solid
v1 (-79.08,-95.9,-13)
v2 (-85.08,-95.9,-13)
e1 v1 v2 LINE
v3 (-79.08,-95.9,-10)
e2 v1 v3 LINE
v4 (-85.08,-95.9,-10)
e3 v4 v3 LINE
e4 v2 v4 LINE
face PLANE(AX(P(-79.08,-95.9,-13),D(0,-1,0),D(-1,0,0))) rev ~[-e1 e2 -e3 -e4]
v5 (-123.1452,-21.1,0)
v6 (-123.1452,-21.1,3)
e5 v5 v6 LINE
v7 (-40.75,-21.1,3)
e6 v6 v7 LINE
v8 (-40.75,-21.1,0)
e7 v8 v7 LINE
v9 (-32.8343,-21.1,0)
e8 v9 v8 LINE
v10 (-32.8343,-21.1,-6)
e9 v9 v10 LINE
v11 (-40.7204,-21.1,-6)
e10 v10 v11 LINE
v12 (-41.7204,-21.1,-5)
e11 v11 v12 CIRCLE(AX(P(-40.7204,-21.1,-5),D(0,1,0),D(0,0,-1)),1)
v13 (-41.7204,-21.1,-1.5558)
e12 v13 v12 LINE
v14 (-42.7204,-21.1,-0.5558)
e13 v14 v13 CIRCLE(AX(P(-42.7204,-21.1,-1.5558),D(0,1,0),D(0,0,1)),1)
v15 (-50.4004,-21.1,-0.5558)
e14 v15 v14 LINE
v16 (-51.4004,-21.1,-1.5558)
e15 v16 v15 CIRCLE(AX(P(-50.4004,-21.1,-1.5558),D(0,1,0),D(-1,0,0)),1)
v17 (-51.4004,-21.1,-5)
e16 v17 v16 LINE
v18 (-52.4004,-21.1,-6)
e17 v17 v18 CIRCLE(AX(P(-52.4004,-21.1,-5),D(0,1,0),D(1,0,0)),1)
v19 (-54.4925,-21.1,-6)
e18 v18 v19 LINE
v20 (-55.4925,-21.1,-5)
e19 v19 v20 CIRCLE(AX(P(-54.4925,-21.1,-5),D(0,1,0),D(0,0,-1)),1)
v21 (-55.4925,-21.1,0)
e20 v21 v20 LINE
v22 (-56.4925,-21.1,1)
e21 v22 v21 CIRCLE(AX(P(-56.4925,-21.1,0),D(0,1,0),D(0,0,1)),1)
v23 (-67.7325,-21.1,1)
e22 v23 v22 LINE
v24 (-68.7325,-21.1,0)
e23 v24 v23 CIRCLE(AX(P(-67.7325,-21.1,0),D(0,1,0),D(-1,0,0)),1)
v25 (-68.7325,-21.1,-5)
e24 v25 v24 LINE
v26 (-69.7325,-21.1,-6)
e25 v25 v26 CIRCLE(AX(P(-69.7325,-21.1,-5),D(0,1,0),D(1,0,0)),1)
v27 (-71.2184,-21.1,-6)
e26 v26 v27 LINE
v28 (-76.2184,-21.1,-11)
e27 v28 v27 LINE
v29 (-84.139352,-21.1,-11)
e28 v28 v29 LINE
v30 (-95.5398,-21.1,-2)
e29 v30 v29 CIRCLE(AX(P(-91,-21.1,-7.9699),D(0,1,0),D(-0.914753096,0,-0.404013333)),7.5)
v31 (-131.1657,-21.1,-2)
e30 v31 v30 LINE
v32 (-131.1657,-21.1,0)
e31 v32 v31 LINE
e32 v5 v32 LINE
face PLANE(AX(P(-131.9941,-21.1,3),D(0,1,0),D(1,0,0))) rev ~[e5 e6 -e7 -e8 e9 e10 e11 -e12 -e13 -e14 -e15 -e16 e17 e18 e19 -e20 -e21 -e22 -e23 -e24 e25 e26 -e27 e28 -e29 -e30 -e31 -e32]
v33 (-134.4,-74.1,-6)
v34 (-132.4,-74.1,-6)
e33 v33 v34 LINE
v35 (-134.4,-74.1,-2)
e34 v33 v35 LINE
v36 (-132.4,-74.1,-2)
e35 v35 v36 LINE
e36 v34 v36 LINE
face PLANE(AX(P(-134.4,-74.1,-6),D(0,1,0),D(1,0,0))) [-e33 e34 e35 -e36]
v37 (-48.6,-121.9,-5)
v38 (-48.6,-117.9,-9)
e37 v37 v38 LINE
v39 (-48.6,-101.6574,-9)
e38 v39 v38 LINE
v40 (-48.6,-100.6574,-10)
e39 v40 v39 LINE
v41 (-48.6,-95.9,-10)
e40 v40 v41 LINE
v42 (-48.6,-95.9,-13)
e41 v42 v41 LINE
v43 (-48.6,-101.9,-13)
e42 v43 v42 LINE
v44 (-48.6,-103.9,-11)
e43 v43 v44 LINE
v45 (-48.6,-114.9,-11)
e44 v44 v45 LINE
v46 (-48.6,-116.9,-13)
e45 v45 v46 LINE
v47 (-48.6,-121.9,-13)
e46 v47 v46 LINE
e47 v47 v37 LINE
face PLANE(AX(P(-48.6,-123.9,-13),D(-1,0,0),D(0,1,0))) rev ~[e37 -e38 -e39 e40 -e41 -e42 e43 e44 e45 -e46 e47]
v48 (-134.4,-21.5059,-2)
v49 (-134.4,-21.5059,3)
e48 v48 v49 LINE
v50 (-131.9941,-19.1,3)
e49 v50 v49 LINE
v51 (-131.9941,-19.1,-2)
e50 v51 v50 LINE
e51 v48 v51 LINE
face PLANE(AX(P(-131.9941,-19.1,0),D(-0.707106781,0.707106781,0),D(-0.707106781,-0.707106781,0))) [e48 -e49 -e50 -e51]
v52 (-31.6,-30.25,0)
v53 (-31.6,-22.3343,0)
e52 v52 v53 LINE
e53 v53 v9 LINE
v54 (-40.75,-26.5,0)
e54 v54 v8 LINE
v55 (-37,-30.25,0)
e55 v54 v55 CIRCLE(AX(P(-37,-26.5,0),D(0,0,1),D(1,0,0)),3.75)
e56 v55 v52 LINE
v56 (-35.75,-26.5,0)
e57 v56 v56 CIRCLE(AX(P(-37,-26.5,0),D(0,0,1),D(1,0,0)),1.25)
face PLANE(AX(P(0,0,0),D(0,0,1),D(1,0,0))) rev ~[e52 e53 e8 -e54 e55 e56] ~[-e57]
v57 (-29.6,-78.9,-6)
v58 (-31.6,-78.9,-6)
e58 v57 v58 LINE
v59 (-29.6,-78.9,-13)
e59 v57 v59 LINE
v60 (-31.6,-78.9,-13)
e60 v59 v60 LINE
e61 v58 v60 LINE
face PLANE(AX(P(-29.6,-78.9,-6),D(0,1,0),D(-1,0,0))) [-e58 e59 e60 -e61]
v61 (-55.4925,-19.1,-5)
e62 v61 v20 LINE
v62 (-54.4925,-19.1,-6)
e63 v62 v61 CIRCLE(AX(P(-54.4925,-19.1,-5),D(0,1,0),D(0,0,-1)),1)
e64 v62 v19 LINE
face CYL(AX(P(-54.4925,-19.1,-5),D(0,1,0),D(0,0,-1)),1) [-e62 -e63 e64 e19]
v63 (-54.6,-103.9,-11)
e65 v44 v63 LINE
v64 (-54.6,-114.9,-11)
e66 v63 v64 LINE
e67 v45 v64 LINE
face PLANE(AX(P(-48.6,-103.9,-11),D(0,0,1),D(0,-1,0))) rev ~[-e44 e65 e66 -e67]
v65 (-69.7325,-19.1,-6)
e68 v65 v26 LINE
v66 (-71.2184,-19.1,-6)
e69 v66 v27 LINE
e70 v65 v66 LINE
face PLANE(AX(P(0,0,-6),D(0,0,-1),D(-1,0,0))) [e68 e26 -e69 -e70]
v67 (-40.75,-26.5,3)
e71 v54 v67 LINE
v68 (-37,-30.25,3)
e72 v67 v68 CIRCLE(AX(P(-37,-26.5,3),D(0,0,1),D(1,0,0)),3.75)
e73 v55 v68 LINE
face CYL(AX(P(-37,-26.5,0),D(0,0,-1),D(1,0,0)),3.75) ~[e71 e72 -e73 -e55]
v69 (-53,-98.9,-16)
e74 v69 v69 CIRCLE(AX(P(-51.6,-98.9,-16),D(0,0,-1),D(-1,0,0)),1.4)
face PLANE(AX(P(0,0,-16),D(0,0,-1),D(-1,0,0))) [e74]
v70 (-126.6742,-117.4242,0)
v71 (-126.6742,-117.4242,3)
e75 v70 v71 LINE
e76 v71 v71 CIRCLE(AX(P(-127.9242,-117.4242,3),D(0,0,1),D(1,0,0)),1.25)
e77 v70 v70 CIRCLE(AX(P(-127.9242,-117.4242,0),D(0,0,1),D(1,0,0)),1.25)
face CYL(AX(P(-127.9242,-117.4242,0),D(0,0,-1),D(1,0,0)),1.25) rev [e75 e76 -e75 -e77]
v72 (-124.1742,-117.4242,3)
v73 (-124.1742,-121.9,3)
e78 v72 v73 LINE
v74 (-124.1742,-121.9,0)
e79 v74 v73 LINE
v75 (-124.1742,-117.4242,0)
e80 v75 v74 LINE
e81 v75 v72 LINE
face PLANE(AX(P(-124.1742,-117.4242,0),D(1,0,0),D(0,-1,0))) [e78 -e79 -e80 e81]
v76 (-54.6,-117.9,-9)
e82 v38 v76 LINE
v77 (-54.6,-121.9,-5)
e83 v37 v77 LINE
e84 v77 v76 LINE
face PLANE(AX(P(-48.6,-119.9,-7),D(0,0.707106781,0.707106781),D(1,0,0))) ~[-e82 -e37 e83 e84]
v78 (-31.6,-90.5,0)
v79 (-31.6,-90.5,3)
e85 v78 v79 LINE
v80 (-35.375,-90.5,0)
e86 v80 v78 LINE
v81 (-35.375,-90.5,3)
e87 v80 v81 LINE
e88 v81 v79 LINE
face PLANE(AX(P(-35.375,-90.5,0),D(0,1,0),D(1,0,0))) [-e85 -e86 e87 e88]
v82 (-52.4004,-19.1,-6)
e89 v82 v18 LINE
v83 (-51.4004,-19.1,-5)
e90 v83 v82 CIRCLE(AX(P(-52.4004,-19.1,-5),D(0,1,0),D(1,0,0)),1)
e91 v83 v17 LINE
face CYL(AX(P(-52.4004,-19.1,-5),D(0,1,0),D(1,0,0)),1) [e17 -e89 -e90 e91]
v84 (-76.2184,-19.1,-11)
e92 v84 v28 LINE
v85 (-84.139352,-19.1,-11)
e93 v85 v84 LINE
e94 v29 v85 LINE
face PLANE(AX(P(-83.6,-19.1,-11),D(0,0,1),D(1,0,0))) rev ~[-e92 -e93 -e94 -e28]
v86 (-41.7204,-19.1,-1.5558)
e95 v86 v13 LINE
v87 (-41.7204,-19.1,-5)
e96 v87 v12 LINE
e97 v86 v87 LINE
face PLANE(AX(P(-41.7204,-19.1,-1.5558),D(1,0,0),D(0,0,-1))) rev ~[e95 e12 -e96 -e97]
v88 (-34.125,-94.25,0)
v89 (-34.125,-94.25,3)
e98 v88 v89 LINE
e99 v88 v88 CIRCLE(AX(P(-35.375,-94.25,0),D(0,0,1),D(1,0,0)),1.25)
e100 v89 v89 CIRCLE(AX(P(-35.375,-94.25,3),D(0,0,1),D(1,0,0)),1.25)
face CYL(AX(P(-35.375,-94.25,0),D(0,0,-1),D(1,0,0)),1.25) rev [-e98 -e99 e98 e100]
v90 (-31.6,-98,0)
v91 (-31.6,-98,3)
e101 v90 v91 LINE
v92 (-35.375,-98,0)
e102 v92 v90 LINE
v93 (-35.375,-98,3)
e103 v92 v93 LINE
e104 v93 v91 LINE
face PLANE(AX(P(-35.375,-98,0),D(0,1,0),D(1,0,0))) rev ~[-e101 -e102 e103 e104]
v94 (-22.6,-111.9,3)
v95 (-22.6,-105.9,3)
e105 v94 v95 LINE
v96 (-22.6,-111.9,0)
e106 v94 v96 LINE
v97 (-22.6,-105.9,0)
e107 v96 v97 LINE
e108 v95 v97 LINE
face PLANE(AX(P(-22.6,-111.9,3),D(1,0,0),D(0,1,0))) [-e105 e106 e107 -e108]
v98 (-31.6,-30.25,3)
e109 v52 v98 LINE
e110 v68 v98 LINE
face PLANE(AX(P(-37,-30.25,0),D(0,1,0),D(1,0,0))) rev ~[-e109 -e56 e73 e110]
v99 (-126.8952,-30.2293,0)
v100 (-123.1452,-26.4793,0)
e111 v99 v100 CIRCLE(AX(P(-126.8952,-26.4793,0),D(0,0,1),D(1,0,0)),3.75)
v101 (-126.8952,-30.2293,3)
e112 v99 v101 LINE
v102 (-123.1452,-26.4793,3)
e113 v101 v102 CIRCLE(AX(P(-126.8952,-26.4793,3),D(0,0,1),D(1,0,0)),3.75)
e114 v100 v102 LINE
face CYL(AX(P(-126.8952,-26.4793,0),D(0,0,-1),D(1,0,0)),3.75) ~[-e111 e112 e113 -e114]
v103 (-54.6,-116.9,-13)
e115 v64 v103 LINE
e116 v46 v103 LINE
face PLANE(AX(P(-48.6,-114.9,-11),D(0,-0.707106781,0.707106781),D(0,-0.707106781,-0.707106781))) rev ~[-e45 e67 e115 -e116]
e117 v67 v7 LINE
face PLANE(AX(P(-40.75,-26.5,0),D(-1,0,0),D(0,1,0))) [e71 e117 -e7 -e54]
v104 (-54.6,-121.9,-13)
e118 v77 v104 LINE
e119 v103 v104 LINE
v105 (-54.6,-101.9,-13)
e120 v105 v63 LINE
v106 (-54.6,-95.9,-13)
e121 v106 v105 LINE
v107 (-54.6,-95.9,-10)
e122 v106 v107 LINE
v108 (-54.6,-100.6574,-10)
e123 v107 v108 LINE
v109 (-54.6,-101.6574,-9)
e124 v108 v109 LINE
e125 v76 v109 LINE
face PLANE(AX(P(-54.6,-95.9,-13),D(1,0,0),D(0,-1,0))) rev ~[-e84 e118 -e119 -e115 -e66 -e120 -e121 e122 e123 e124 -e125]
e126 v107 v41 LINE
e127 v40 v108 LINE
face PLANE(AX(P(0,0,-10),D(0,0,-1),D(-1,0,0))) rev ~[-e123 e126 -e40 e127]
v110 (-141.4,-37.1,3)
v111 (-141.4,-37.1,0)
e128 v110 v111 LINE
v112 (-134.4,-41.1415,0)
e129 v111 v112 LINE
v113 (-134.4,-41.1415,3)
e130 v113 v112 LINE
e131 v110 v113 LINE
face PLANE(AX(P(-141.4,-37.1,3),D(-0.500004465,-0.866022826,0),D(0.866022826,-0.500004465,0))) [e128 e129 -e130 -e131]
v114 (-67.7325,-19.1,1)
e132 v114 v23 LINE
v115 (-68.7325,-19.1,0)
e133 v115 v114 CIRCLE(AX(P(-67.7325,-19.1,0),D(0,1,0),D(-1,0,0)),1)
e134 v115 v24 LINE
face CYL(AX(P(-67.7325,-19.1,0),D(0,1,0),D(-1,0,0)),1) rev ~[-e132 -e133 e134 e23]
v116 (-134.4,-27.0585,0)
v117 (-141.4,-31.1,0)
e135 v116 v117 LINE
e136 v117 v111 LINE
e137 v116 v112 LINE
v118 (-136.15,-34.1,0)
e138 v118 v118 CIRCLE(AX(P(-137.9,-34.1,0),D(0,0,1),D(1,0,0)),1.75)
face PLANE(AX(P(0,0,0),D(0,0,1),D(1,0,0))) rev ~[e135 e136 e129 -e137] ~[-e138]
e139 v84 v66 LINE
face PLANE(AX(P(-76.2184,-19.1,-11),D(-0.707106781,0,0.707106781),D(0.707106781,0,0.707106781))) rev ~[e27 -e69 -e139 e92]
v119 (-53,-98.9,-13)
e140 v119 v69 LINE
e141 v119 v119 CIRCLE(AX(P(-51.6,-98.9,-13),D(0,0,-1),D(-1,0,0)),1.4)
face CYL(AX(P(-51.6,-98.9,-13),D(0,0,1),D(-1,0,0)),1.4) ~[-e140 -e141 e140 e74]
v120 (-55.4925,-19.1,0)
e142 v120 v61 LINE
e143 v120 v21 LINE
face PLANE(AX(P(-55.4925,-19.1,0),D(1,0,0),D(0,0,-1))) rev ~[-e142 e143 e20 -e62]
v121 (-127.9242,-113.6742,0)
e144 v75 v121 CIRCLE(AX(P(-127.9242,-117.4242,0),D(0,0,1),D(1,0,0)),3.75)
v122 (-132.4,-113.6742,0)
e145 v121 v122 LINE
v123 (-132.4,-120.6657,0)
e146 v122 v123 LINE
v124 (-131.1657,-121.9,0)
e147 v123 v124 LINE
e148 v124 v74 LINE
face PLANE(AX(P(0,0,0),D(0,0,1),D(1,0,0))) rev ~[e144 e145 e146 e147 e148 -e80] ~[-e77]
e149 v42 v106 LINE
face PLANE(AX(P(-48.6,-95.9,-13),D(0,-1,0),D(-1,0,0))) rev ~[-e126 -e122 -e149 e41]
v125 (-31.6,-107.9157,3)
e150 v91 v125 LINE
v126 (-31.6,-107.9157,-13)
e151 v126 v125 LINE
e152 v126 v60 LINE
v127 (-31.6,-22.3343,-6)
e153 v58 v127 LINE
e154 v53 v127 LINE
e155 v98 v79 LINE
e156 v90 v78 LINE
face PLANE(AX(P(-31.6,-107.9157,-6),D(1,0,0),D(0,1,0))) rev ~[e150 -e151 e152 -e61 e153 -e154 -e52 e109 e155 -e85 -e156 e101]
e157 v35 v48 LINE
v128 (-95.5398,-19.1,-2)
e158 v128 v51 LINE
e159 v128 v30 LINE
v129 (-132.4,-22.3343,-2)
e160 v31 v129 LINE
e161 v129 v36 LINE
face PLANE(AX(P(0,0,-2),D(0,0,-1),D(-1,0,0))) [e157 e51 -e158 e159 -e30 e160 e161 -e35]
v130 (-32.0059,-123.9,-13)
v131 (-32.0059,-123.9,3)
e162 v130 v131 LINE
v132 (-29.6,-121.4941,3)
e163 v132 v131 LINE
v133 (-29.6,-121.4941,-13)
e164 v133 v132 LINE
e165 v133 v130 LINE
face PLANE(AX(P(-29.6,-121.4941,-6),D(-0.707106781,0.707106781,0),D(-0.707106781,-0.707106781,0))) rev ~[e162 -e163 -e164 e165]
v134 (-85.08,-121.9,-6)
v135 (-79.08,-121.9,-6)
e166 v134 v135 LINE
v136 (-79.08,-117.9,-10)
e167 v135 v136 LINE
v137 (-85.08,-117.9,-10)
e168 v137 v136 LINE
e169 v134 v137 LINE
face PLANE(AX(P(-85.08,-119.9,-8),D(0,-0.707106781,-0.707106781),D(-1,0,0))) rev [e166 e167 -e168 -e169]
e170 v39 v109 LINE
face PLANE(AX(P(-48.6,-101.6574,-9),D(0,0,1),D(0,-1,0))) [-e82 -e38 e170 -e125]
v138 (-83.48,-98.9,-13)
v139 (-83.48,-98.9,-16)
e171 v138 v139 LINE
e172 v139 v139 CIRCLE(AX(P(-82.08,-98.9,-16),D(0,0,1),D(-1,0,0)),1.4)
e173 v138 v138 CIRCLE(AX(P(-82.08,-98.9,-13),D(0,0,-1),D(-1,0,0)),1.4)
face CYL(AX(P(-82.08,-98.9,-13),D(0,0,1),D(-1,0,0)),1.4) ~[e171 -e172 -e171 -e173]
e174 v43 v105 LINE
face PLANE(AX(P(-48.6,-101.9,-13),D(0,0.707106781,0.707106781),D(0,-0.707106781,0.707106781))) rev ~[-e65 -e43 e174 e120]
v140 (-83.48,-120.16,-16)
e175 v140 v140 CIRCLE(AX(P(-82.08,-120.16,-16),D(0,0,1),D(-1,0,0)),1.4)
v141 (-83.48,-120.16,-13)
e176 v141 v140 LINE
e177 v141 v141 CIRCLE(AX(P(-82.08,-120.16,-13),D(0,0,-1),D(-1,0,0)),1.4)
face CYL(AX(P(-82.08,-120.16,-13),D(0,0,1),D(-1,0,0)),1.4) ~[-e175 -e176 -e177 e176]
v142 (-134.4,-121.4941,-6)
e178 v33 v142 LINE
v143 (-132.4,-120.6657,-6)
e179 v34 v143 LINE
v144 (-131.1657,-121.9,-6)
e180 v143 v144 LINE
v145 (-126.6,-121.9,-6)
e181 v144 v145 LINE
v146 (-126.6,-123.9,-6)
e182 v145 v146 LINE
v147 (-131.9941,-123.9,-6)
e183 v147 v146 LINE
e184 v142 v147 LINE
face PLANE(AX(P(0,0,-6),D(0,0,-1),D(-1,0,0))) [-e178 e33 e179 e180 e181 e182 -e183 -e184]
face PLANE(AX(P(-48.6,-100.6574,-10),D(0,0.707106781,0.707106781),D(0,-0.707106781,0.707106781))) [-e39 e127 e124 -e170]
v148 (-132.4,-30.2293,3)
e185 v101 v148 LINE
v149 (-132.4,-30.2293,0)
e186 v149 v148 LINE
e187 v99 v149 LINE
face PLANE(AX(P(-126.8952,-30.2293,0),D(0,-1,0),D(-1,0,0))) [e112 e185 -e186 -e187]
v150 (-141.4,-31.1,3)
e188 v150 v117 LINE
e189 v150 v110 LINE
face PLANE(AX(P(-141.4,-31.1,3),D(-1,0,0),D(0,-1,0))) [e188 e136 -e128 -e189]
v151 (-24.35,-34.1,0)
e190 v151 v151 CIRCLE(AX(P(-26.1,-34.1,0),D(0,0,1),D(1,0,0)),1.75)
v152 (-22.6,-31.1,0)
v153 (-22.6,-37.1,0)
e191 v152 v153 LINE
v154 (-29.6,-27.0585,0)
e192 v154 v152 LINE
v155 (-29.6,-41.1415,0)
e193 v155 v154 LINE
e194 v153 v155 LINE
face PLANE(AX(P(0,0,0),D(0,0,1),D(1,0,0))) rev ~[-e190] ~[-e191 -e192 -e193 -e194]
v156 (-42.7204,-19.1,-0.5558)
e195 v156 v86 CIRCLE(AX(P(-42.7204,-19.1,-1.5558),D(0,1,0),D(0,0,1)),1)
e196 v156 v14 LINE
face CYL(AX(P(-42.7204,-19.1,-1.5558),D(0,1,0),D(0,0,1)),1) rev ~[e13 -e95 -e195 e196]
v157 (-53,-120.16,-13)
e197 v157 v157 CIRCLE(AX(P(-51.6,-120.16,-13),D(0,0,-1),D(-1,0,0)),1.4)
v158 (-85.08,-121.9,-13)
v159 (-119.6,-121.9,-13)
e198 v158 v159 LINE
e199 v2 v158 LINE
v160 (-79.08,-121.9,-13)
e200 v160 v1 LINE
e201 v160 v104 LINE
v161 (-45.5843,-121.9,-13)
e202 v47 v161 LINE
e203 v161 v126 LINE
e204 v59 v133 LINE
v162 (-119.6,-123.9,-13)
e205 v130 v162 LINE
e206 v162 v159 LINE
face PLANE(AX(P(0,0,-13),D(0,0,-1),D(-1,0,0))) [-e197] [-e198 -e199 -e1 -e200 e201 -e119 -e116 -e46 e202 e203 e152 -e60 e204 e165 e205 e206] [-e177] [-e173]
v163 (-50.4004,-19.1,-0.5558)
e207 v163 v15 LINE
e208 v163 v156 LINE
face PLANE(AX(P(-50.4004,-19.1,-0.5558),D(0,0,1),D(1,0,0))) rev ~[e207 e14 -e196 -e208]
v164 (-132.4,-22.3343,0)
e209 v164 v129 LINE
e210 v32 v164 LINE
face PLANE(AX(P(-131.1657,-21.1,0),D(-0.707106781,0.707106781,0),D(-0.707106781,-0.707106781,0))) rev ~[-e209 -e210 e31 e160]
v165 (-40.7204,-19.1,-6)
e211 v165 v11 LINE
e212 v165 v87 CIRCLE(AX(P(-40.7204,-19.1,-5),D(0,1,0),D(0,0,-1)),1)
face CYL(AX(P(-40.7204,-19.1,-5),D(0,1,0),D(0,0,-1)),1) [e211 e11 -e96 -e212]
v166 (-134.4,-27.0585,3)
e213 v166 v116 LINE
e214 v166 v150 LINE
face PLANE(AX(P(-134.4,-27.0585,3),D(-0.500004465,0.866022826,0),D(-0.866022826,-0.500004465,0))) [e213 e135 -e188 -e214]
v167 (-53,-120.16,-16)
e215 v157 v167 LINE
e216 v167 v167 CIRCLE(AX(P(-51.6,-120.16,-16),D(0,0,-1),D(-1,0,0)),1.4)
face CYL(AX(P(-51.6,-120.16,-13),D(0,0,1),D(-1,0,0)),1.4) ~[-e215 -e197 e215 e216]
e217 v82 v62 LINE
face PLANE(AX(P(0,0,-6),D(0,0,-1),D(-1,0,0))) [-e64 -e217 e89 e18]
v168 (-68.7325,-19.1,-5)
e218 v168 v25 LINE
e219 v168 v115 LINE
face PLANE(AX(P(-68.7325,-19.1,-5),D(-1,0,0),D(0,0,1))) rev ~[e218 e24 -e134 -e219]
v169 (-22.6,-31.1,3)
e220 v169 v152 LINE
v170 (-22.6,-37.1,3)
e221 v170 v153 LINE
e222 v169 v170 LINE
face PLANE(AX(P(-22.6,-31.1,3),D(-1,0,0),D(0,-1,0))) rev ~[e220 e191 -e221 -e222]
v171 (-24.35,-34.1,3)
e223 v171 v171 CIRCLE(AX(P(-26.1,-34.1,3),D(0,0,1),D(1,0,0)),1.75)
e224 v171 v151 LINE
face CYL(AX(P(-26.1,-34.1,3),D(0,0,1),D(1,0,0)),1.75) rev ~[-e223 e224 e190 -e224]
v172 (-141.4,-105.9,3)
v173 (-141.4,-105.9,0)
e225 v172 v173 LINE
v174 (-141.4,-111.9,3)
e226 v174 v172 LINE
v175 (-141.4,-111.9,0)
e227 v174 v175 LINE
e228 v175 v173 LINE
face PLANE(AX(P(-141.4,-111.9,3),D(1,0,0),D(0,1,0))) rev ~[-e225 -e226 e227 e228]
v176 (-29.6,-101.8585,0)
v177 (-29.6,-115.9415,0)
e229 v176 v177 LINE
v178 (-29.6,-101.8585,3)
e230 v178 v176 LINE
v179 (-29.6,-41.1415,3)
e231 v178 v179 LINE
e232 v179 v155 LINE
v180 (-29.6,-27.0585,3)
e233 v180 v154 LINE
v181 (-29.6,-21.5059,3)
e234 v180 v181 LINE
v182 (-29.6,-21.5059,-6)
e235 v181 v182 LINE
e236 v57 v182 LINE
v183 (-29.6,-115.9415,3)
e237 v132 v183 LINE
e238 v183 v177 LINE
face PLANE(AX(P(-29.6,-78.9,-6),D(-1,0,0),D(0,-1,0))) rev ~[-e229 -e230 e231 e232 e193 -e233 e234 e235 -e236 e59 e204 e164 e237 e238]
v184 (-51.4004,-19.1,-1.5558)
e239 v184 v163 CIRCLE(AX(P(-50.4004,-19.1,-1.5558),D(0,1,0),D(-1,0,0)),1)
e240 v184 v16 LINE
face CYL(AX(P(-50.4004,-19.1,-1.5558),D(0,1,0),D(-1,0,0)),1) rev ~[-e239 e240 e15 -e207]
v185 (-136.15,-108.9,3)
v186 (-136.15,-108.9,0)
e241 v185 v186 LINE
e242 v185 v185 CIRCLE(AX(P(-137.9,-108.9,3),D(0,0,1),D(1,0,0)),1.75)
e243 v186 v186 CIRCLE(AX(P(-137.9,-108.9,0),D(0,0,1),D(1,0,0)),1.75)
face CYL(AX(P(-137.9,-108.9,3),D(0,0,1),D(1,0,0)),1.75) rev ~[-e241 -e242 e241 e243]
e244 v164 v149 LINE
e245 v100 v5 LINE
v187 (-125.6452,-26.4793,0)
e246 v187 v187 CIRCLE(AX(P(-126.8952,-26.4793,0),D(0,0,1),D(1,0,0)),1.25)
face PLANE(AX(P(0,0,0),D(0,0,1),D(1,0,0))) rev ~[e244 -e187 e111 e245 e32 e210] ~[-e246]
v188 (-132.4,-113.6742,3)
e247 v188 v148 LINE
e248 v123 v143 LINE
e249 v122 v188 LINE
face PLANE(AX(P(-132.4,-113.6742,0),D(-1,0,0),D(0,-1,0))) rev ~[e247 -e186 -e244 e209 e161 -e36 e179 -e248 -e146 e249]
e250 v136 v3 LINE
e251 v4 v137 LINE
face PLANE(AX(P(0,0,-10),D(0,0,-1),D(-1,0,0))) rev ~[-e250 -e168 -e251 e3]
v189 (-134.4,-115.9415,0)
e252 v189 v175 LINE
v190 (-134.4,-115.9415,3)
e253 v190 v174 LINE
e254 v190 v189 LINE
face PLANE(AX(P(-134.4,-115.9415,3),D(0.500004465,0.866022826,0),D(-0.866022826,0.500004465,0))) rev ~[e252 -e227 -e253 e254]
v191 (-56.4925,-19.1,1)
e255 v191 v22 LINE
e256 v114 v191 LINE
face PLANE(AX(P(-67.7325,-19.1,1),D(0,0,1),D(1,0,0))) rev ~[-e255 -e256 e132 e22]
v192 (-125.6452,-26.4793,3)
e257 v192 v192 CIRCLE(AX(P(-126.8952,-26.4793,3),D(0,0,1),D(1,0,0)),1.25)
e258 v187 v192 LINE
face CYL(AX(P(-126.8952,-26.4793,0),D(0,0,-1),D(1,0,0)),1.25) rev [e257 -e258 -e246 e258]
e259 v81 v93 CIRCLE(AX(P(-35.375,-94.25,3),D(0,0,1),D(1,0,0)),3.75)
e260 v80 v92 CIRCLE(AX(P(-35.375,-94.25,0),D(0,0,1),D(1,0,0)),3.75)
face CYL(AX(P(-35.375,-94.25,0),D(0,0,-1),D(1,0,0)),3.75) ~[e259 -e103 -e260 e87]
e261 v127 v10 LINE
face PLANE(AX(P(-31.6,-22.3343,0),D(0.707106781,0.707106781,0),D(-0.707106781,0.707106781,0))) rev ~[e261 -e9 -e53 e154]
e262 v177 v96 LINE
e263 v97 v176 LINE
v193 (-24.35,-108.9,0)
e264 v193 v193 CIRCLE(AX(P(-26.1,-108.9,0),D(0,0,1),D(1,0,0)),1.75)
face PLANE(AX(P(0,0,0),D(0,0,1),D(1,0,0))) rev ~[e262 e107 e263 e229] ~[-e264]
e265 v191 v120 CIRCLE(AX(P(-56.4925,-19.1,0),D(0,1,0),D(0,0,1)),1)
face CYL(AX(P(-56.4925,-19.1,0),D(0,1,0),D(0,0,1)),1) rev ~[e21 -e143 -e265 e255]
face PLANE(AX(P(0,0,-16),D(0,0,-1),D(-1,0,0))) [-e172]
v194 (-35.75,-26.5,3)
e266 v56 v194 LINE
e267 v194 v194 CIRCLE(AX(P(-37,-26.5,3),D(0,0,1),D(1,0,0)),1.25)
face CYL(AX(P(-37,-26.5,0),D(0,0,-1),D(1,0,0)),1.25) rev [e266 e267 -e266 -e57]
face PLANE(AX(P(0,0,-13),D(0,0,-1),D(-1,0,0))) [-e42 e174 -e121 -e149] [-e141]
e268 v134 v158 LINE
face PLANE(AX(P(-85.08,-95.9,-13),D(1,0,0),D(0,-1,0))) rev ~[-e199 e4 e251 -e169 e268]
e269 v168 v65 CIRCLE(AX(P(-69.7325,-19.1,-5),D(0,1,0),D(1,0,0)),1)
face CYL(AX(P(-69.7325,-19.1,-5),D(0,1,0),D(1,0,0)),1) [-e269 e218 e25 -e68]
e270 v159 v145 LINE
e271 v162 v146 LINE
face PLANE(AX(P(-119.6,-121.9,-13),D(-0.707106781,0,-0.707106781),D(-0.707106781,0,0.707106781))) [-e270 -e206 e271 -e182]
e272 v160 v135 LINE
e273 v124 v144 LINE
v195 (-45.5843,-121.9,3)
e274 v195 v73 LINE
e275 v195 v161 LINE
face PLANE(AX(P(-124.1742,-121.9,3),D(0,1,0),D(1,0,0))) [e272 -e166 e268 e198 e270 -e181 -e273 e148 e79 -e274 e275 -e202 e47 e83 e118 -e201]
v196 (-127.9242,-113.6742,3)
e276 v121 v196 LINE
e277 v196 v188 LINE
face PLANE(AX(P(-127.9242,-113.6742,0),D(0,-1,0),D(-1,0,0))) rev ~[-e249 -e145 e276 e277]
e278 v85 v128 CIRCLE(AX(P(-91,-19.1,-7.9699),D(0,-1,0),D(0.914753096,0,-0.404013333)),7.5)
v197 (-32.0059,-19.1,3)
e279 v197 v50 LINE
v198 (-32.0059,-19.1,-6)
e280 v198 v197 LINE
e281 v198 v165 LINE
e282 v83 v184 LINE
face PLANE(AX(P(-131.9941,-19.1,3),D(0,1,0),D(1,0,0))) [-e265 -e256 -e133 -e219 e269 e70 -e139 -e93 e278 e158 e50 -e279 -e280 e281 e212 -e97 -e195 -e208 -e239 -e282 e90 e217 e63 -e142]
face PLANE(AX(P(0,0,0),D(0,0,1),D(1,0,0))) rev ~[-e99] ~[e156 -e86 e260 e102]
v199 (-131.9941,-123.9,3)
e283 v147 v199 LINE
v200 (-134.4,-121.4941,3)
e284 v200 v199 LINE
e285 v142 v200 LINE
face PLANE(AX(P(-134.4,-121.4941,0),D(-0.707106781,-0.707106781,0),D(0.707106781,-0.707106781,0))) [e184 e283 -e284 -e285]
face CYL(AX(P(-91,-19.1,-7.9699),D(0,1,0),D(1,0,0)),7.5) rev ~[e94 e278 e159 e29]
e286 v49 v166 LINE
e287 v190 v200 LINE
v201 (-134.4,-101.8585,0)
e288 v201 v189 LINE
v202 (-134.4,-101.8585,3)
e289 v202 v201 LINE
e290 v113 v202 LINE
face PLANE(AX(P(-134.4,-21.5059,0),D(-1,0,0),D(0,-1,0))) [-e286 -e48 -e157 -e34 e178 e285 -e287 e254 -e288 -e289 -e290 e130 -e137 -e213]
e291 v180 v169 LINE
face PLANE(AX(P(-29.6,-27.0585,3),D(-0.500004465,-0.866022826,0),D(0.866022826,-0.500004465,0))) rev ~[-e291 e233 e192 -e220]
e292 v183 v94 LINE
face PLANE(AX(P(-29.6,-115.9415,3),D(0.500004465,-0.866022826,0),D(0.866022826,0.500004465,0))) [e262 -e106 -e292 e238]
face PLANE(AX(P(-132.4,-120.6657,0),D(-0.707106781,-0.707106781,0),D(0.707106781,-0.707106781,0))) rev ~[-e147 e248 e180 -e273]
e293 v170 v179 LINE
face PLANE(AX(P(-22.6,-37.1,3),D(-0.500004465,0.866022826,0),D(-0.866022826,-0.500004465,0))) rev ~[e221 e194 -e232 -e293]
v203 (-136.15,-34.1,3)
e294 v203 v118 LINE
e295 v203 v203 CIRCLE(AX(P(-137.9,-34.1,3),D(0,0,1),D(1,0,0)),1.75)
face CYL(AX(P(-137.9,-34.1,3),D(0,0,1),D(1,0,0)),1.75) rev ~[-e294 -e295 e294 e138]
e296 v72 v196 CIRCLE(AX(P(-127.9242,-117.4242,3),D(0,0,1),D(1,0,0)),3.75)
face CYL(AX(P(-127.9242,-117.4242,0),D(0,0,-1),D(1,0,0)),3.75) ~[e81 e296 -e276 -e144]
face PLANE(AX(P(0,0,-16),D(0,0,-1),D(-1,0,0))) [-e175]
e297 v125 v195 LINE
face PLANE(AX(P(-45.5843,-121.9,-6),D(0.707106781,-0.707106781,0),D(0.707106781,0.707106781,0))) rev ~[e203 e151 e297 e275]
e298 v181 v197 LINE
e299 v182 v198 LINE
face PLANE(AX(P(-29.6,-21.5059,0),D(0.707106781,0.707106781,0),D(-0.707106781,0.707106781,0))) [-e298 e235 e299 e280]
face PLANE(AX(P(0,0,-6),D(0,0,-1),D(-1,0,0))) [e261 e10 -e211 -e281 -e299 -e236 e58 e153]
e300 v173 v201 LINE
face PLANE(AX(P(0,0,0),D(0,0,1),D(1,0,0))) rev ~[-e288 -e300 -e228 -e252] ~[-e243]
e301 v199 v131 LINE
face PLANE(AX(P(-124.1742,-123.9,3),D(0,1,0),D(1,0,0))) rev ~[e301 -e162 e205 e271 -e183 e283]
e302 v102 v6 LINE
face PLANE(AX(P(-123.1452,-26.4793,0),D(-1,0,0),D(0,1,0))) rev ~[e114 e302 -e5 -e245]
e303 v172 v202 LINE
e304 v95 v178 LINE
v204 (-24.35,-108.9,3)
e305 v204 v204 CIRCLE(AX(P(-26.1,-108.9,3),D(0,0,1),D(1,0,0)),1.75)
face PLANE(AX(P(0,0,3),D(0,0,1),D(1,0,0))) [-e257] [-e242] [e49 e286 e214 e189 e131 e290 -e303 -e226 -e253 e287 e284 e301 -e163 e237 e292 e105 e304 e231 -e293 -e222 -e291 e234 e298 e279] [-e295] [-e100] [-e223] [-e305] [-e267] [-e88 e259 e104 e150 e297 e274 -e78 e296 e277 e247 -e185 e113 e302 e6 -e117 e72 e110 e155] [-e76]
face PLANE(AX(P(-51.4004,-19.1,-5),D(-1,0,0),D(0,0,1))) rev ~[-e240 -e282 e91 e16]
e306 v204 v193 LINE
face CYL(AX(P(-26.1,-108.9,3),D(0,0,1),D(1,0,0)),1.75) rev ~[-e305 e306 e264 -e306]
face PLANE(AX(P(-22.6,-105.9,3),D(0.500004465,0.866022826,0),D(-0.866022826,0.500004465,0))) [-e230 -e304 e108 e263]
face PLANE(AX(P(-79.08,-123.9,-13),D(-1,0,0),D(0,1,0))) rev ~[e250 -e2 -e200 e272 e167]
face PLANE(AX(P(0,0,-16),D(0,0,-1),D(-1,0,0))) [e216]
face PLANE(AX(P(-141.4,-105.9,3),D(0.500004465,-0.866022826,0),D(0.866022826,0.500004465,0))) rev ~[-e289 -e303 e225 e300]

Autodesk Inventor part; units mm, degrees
ref_plane "YZ Plane" through (0, 0, 0) normal (1, 0, 0) x (0, 1, 0)
ref_plane "XZ Plane" through (0, 0, 0) normal (0, 1, 0) x (-1, 0, 0)
ref_plane "XY Plane" through (0, 0, 0) normal (0, 0, 1) x (1, 0, 0)
sketch "Sketch1" plane through (0, 0, 0) normal (0, 0, 1) x (1, 0, 0)
  line L0 (-32, -107.75) -> (-32, -22.5) construction
  line L1 (-33, -21.5) -> (-131, -21.5) construction
  line L2 (-32, -22.5) -> (-33, -21.5) construction
  line L3 (-45.75, -121.5) -> (-32, -107.75) construction
  line L4 (-131, -121.5) -> (-45.75, -121.5) construction
  line L5 (-132, -120.5) -> (-131, -121.5) construction
  line L6 (-132, -22.5) -> (-132, -120.5) construction
  line L7 (-131, -21.5) -> (-132, -22.5) projected
  line L8 (-31.6, -22.3343) -> (-31.6, -107.9157)
  line L9 (-31.6, -107.9157) -> (-45.5843, -121.9)
  line L10 (-45.5843, -121.9) -> (-131.1657, -121.9)
  line L11 (-131.1657, -121.9) -> (-132.4, -120.6657)
  line L12 (-132.4, -120.6657) -> (-132.4, -22.3343)
  line L13 (-132.4, -22.3343) -> (-131.1657, -21.1)
  line L14 (-131.1657, -21.1) -> (-32.8343, -21.1)
  line L15 (-32.8343, -21.1) -> (-31.6, -22.3343)
  circle A0 centre (-37, -26.5) radius 1.25 projected
  circle A1 centre (-37, -26.5) radius 3.75
  line L16 (-40.75, -26.5) -> (-40.75, -21.1)
  line L17 (-37, -30.25) -> (-31.6, -30.25)
  circle A2 centre (-126.8952, -26.4793) radius 1.25 projected
  circle A3 centre (-126.8952, -26.4793) radius 3.75
  line L18 (-123.1452, -26.4793) -> (-123.1452, -21.1)
  line L19 (-126.8952, -30.2293) -> (-132.4, -30.2293)
  circle A4 centre (-127.9242, -117.4242) radius 1.25 projected
  circle A5 centre (-127.9242, -117.4242) radius 3.75
  line L20 (-124.1742, -117.4242) -> (-124.1742, -121.9)
  line L21 (-127.9242, -113.6742) -> (-132.4, -113.6742)
  circle A6 centre (-35.375, -94.25) radius 1.25 projected
  circle A7 centre (-35.375, -94.25) radius 3.75
  line L22 (-35.375, -98) -> (-31.6, -98)
  line L23 (-35.375, -90.5) -> (-31.6, -90.5)
  line L24 (-29.6, -108.7441) -> (-29.6, -21.5059)
  line L25 (-29.6, -21.5059) -> (-32.0059, -19.1)
  line L26 (-32.0059, -19.1) -> (-131.9941, -19.1)
  line L27 (-131.9941, -19.1) -> (-134.4, -21.5059)
  line L28 (-134.4, -21.5059) -> (-134.4, -121.4941)
  line L29 (-134.4, -121.4941) -> (-131.9941, -123.9)
  line L30 (-131.9941, -123.9) -> (-44.7559, -123.9)
  line L31 (-44.7559, -123.9) -> (-29.6, -108.7441)
  line L32 (-29.6, -108.7441) -> (-29.6, -121.4941)
  line L33 (-32.0059, -123.9) -> (-44.7559, -123.9)
  line L34 (-29.6, -121.4941) -> (-32.0059, -123.9)
  point P0 (0, 0)
  point P1 (-29.6, -123.9)
  dimension "d0" = 0.4
  dimension "d1" = 7.5
  dimension "d2" = 7.5
  dimension "d3" = 7.5
  dimension "d4" = 7.5
  dimension "d5" = 2
  dimension "d26" = 2.4059
  dimension "d27" = 2.4059
  dimension "d28" = 2.4059
extrude "Extrusion1" add sketch "Sketch1" along normal blind 3 contours L8 L17 A1 L16 L14 L15 | L8 L22 A7 L23 | A1 | A7 | L18 A3 L19 L12 L13 L14 | A3 | L10 L11 L12 L21 A5 L20 | A5 | L31 L30 L29 L28 L27 L26 L25 L24 | L32 L34 L33 L31
sketch "Sketch3" plane through (0, 0, 0) normal (0, 0, -1) x (-1, 0, 0)
  line L0 (29.6, -21.5059) -> (32.0059, -19.1) projected
  line L1 (134.4, -121.4941) -> (131.9941, -123.9) projected
  line L2 (134.4, -21.5059) -> (134.4, -121.4941) projected
  line L3 (131.9941, -19.1) -> (134.4, -21.5059) projected
  line L4 (32.0059, -19.1) -> (131.9941, -19.1) projected
  circle A0 centre (35.375, -94.25) radius 1.25 projected
  circle A1 centre (127.9242, -117.4242) radius 1.25 projected
  circle A2 centre (37, -26.5) radius 1.25 projected
  circle A3 centre (126.8952, -26.4793) radius 1.25 projected
  arc A4 (123.1452, -26.4793) -> (126.8952, -30.2293) centre (126.8952, -26.4793) ccw projected
  line L5 (132.4, -30.2293) -> (126.8952, -30.2293) projected
  line L6 (132.4, -113.6742) -> (132.4, -30.2293) projected
  line L7 (127.9242, -113.6742) -> (132.4, -113.6742) projected
  arc A5 (127.9242, -113.6742) -> (124.1742, -117.4242) centre (127.9242, -117.4242) ccw projected
  line L8 (124.1742, -121.9) -> (124.1742, -117.4242) projected
  line L9 (45.5843, -121.9) -> (124.1742, -121.9) projected
  line L10 (31.6, -107.9157) -> (45.5843, -121.9) projected
  line L11 (31.6, -98) -> (31.6, -107.9157) projected
  line L12 (35.375, -98) -> (31.6, -98) projected
  arc A6 (35.375, -98) -> (35.375, -90.5) centre (35.375, -94.25) ccw projected
  line L13 (31.6, -90.5) -> (35.375, -90.5) projected
  line L14 (31.6, -30.25) -> (31.6, -90.5) projected
  line L15 (37, -30.25) -> (31.6, -30.25) projected
  arc A7 (37, -30.25) -> (40.75, -26.5) centre (37, -26.5) ccw projected
  line L16 (40.75, -21.1) -> (40.75, -26.5) projected
  line L17 (123.1452, -21.1) -> (40.75, -21.1) projected
  line L18 (123.1452, -26.4793) -> (123.1452, -21.1) projected
  line L19 (31.6, -22.3343) -> (32.8343, -21.1)
  line L20 (32.8343, -21.1) -> (131.1657, -21.1)
  line L21 (131.1657, -21.1) -> (132.4, -22.3343)
  line L22 (132.4, -22.3343) -> (132.4, -120.6657)
  line L23 (132.4, -120.6657) -> (131.1657, -121.9)
  line L24 (131.1657, -121.9) -> (45.5843, -121.9)
  line L25 (45.5843, -121.9) -> (31.6, -107.9157)
  line L26 (31.6, -107.9157) -> (31.6, -22.3343)
  line L27 (29.6, -121.4941) -> (29.6, -21.5059) projected
  line L28 (32.0059, -123.9) -> (29.6, -121.4941) projected
  line L29 (131.9941, -123.9) -> (32.0059, -123.9) projected
  point P0 (0, 0)
  point P1 (132.4, -41.5929)
extrude "Extrusion2" add sketch "Sketch3" along normal blind 6 contours L0 L4 L3 L2 L1 L29 L28 L27
sketch "Sketch4" plane through (-131.9941, -19.1, 3) normal (0, 1, 0) x (1, 0, 0)
  line L0 (65.2616, 3) -> (65.2616, 4.5558) projected
  line L1 (74.5016, 3) -> (74.5016, 4.5558) projected
  line L2 (98.9941, 3) -> (0.9941, 3) projected
  line L3 (99.1598, 9) -> (0.8284, 9) projected
  line L4 (63.2616, 8) -> (63.2616, 3)
  line L5 (64.2616, 2) -> (75.5016, 2)
  line L6 (76.5016, 3) -> (76.5016, 8)
  arc A0 (63.2616, 3) -> (64.2616, 2) centre (64.2616, 3) ccw
  arc A1 (75.5016, 2) -> (76.5016, 3) centre (75.5016, 3) ccw
  line L7 (62.2616, 9) -> (61.3217, 9)
  line L8 (77.5016, 9) -> (78.7059, 9)
  line L9 (63.2616, 9) -> (76.5016, 9)
  arc A2 (63.2616, 8) -> (62.2616, 9) centre (62.2616, 8) ccw
  arc A3 (77.5016, 9) -> (76.5016, 8) centre (77.5016, 8) ccw
  line L10 (87.1737, 4.5558) -> (88.7737, 4.5558) projected
  line L11 (82.0937, 4.5558) -> (83.6937, 4.5558) projected
  line L12 (80.5937, 8) -> (80.5937, 4.5558)
  line L13 (81.5937, 3.5558) -> (89.2737, 3.5558)
  line L14 (90.2737, 4.5558) -> (90.2737, 8)
  arc A4 (80.5937, 4.5558) -> (81.5937, 3.5558) centre (81.5937, 4.5558) ccw
  arc A5 (89.2737, 3.5558) -> (90.2737, 4.5558) centre (89.2737, 4.5558) ccw
  line L15 (77.5016, 9) -> (79.5937, 9)
  arc A6 (80.5937, 8) -> (79.5937, 9) centre (79.5937, 8) ccw
  line L16 (102.3941, 9) -> (102.3941, 0) projected
  line L17 (91.2737, 9) -> (102.3941, 9)
  arc A7 (91.2737, 9) -> (90.2737, 8) centre (91.2737, 8) ccw
  point P0 (131.9941, 3)
  point P1 (80.5937, 9)
  point P2 (90.2737, 9)
  dimension "d11" = 2
  dimension "d12" = 2
  dimension "d13" = 1
  dimension "d14" = 1
  dimension "d15" = 1
  dimension "d32" = 1.5
  dimension "d33" = 1.5
  dimension "d34" = 1
  dimension "d35" = 1
  dimension "d36" = 1
  dimension "d37" = 1
extrude "Extrusion3" cut sketch "Sketch4" against normal up to surface (2 mm away)
sketch "Sketch5" plane through (0, 0, 3) normal (0, 0, 1) x (1, 0, 0)
  circle A0 centre (-26.1, -34.1) radius 1.75
  line L0 (-29.6, -108.7441) -> (-29.6, -21.5059) projected
  line L1 (-29.6, -27.0585) -> (-22.6, -31.1)
  line L2 (-22.6, -31.1) -> (-22.6, -37.1)
  line L3 (-22.6, -37.1) -> (-29.6, -41.1415)
  line L4 (-22.6, -34.1) -> (-29.6, -34.1) construction
  line L5 (-32.0059, -19.1) -> (-131.9941, -19.1) projected
  line L6 (-29.6, -21.5059) -> (-29.6, -121.4941)
  line L7 (-29.6, -71.5) -> (-134.4, -71.5)
  line L8 (-134.4, -21.5059) -> (-134.4, -121.4941) projected
  circle A1 centre (-26.1, -108.9) radius 1.75
  line L9 (-29.6, -115.9415) -> (-22.6, -111.9)
  line L10 (-22.6, -111.9) -> (-22.6, -105.9)
  line L11 (-22.6, -105.9) -> (-29.6, -101.8585)
  line L12 (-22.6, -108.9) -> (-29.6, -108.9) construction
  line L13 (-82, -19.1) -> (-82, -123.9)
  line L14 (-131.9941, -123.9) -> (-32.0059, -123.9) projected
  circle A2 centre (-137.9, -34.1) radius 1.75
  line L15 (-134.4, -27.0585) -> (-141.4, -31.1)
  line L16 (-141.4, -31.1) -> (-141.4, -37.1)
  line L17 (-141.4, -37.1) -> (-134.4, -41.1415)
  line L18 (-141.4, -34.1) -> (-134.4, -34.1) construction
  line L19 (-134.4, -115.9415) -> (-141.4, -111.9)
  line L20 (-141.4, -108.9) -> (-134.4, -108.9) construction
  circle A3 centre (-137.9, -108.9) radius 1.75
  line L21 (-141.4, -105.9) -> (-134.4, -101.8585)
  line L22 (-141.4, -111.9) -> (-141.4, -105.9)
  point P0 (0, 0)
  point P1 (-134.4, -108.7441)
  dimension "d19" = 120
  dimension "d20" = 120
  dimension "d21" = 3.5
  dimension "d22" = 3.5
  dimension "d23" = 7
  dimension "d24" = 3
  dimension "d25" = 15
extrude "Extrusion4" add sketch "Sketch5" against normal blind 3
sketch "Sketch6" plane through (0, 0, -6) normal (0, 0, -1) x (-1, 0, 0)
  point P0 (0, 0)
sketch "Sketch7" plane through (-131.9941, -19.1, 3) normal (0, 1, 0) x (1, 0, 0)
  circle A0 centre (40.9941, 10.95) radius 3.9 projected
  circle A1 centre (40.9941, 10.95) radius 2.9
  line L0 (0, 9) -> (62.2616, 9) projected
  line L1 (49.2757, 9) -> (48.3941, 14)
  line L2 (48.3941, 14) -> (43.8941, 14)
  line L3 (43.8941, 14) -> (43.8941, 10.95)
  line L4 (40.9941, 7.05) -> (40.9941, 14.85)
  line L5 (32.7125, 9) -> (33.5941, 14)
  line L6 (33.5941, 14) -> (38.0941, 14)
  line L7 (38.0941, 14) -> (38.0941, 10.95)
  point P0 (131.9941, 3)
  point P1 (43.1406, 9)
  point P2 (32.7125, 9)
  point P3 (38.8476, 9)
  dimension "d38" = 5.8
  dimension "d39" = 80
  dimension "d40" = 5
  dimension "d41" = 4.5
extrude "Extrusion5" add sketch "Sketch7" against normal up to surface (2 mm away) contours A0 L0 A1 L3 | A0 L3 L2 L1 L0 | L7 A1 L0 A0 | A0 L0 L5 L6 L7
sketch "Sketch8" plane through (-131.9941, -19.1, 3) normal (0, 1, 0) x (1, 0, 0)
  arc A0 (43.1406, 9) -> (43.8941, 10.95) centre (40.9941, 10.95) ccw projected
  circle A1 centre (40.9941, 10.95) radius 2.9
  point P0 (131.9941, 3)
  point P1 (43.1406, 9)
extrude "Extrusion6" cut sketch "Sketch8" against normal up to surface (2 mm away)
sketch "Sketch9" plane through (0, 0, -6) normal (0, 0, -1) x (-1, 0, 0)
  line L0 (94.6, -132.1582) -> (23.2926, -132.1582)
  line L1 (23.2926, -132.1582) -> (23.2926, -78.9)
  line L2 (23.2926, -78.9) -> (94.6, -78.9)
  line L3 (94.6, -78.9) -> (94.6, -132.1582)
  line L4 (99.2816, -19.1) -> (99.2816, -21.1) projected
  line L5 (99.2816, -21.1) -> (131.1657, -21.1) projected
  line L6 (131.1657, -21.1) -> (132.4, -22.3343) projected
  line L7 (132.4, -22.3343) -> (132.4, -120.6657) projected
  line L8 (132.4, -120.6657) -> (131.1657, -121.9) projected
  line L9 (131.1657, -121.9) -> (45.5843, -121.9) projected
  line L10 (45.5843, -121.9) -> (31.6, -107.9157) projected
  line L11 (31.6, -107.9157) -> (31.6, -22.3343) projected
  line L12 (31.6, -22.3343) -> (32.8343, -21.1) projected
  line L13 (32.8343, -21.1) -> (40.7204, -21.1) projected
  line L14 (40.7204, -21.1) -> (40.7204, -19.1) projected
  line L15 (40.7204, -19.1) -> (32.0059, -19.1) projected
  line L16 (32.0059, -19.1) -> (29.6, -21.5059) projected
  line L17 (29.6, -21.5059) -> (29.6, -121.4941) projected
  line L18 (29.6, -121.4941) -> (32.0059, -123.9) projected
  line L19 (32.0059, -123.9) -> (131.9941, -123.9) projected
  line L20 (131.9941, -123.9) -> (134.4, -121.4941) projected
  line L21 (134.4, -121.4941) -> (134.4, -21.5059) projected
  line L22 (134.4, -21.5059) -> (131.9941, -19.1) projected
  line L23 (131.9941, -19.1) -> (99.2816, -19.1) projected
  line L24 (32.0059, -123.9) -> (131.9941, -123.9) projected
  line L25 (29.6, -21.5059) -> (29.6, -121.4941) projected
  point P0 (0, 0)
  point P1 (31.6, -78.9)
  point P2 (29.6, -78.9)
  point P3 (94.6, -123.9)
  point P4 (94.6, -121.9)
  dimension "d46" = 45
  dimension "d47" = 65
extrude "Extrusion7" add sketch "Sketch9" along normal blind 7 contours L19 L18 L17 L2 L11 L10 L9 L3
sketch "Sketch10" plane through (0, 0, -13) normal (0, 0, -1) x (-1, 0, 0)
  line L0 (32.0059, -123.9) -> (94.6, -123.9) projected
  line L1 (54.6, -123.9) -> (48.6, -123.9)
  line L2 (48.6, -123.9) -> (48.6, -95.9)
  line L3 (48.6, -95.9) -> (54.6, -95.9)
  line L4 (54.6, -95.9) -> (54.6, -123.9)
  line L5 (85.08, -123.9) -> (79.08, -123.9)
  line L6 (79.08, -123.9) -> (79.08, -95.9)
  line L7 (79.08, -95.9) -> (85.08, -95.9)
  line L8 (85.08, -95.9) -> (85.08, -123.9)
  line L9 (82.08, -95.9) -> (82.08, -123.9)
  line L10 (51.6, -95.9) -> (51.6, -123.9)
  line L11 (29.6, -78.9) -> (29.6, -121.4941) projected
  point P0 (0, 0)
  dimension "d50" = 30.48
  dimension "d51" = 6
  dimension "d52" = 6
  dimension "d53" = 28
  dimension "d54" = 22
extrude "Extrusion8" add sketch "Sketch10" against normal blind 3
sketch "Sketch11" plane through (0, 0, -13) normal (0, 0, -1) x (-1, 0, 0)
  line L0 (79.08, -95.9) -> (85.08, -95.9) projected
  line L1 (82.08, -95.9) -> (82.08, -125.121) construction
  line L2 (54.6, -95.9) -> (48.6, -95.9) projected
  line L3 (51.6, -95.9) -> (51.6, -123.9) construction
  line L4 (32.0059, -123.9) -> (94.6, -123.9) projected
  circle A0 centre (82.08, -120.16) radius 1.4
  circle A1 centre (82.08, -98.9) radius 1.4
  line L5 (85.08, -95.9) -> (79.08, -95.9) projected
  line L6 (82.08, -120.16) -> (51.6, -120.16)
  line L7 (82.08, -98.9) -> (51.6, -98.9)
  circle A2 centre (51.6, -120.16) radius 1.4
  circle A3 centre (51.6, -98.9) radius 1.4
  point P0 (0, 0)
  dimension "d57" = 2.8
  dimension "d58" = 2.8
  dimension "d59" = 21.26
  dimension "d60" = 3
  dimension "d61" = 2.8
  dimension "d62" = 2.8
extrude "Extrusion9" add sketch "Sketch11" along normal blind 3
sketch "Sketch12" plane through (-48.6, -121.9, -13) normal (1, 0, 0) x (0, 0, -1)
  line L0 (0, 20) -> (-2, 18)
  line L1 (-2, 18) -> (-2, 7)
  line L2 (-2, 7) -> (0, 5)
  line L3 (0, 0) -> (0, 26) projected
  line L4 (0, 0) -> (0, 26) projected
  line L5 (-7, -2) -> (0, -2) projected
  point P0 (-13, 121.9)
  point P1 (0, 13)
  point P2 (0, 20)
  dimension "d65" = 135
  dimension "d66" = 135
  dimension "d67" = 2
  dimension "d68" = 8
  dimension "d69" = 9
extrude "Extrusion10" cut sketch "Sketch12" against normal up to surface (6 mm away)
sketch "Sketch13" plane through (-48.6, -121.9, -10) normal (1, 0, 0) x (0, 0, -1)
  line L0 (3, 20) -> (1, 18) projected
  line L1 (1, 7) -> (3, 5) projected
  line L2 (1, 22.2426) -> (-1, 20.2426)
  line L3 (-1.1213, 4.8787) -> (0.8787, 2.8787)
  line L4 (-1, 20.2426) -> (-1, 0)
  line L5 (-4, 0) -> (3, 0) projected
  line L6 (3, 0) -> (3, 5) projected
  line L7 (0, 21.2426) -> (0, 0)
  point P0 (-10, 121.9)
  dimension "d72" = 3
  dimension "d73" = 3
  dimension "d74" = 4
extrude "Extrusion11" add sketch "Sketch13" against normal up to surface (6 mm away)
chamfer "Chamfer1" distance 4 angle 45 2 edges at (-82.08, -121.9, -10) (-51.6, -121.9, -9)
sketch "Sketch14" plane through (0, 0, -6) normal (0, 0, -1) x (-1, 0, 0)
  line L0 (94.6, -123.9) -> (131.9941, -123.9) projected
  line L1 (94.6, -123.9) -> (119.6, -123.9)
  line L2 (119.6, -123.9) -> (119.6, -91.9)
  line L3 (119.6, -91.9) -> (94.6, -91.9)
  line L4 (94.6, -91.9) -> (94.6, -123.9)
  line L5 (94.6, -121.9) -> (85.08, -121.9) projected
  line L6 (94.6, -91.9) -> (89.6, -91.9)
  line L7 (89.6, -91.9) -> (89.6, -121.9)
  line L8 (89.6, -121.9) -> (94.6, -121.9)
  line L9 (94.6, -121.9) -> (94.6, -91.9)
  point P0 (0, 0)
  dimension "d80" = 32
  dimension "d81" = 25
  dimension "d82" = 30
ref_plane "Work Plane1" through (0, 0, -10) normal (0, 0, -1) x (-1, 0, 0)
sketch "Sketch15" plane through (0, 0, -10) normal (0, 0, -1) x (-1, 0, 0)
  line L0 (94.6, -123.9) -> (94.6, -121.9) projected
  line L1 (94.6, -123.9) -> (119.6, -123.9) projected
  line L2 (119.6, -123.9) -> (119.6, -91.9) projected
  line L3 (119.6, -121.9) -> (94.6, -121.9)
  point P0 (0, 0)
extrude "Extrusion13" add sketch "Sketch15" along normal up to surface (3 mm away)
sketch "Sketch16" plane through (0, 0, -6) normal (0, 0, -1) x (-1, 0, 0)
  line L0 (145.0581, -74.1) -> (99.4, -74.1)
  line L1 (99.4, -74.1) -> (99.4, -16.8745)
  line L2 (99.4, -16.8745) -> (145.0581, -16.8745)
  line L3 (145.0581, -16.8745) -> (145.0581, -74.1)
  line L4 (94.6, -123.9) -> (131.9941, -123.9) projected
  line L5 (131.9941, -123.9) -> (134.4, -121.4941) projected
  line L6 (134.4, -121.4941) -> (134.4, -21.5059) projected
  line L7 (134.4, -21.5059) -> (131.9941, -19.1) projected
  line L8 (131.9941, -19.1) -> (99.2816, -19.1) projected
  line L9 (99.2816, -19.1) -> (99.2816, -21.1) projected
  line L10 (99.2816, -21.1) -> (131.1657, -21.1) projected
  line L11 (131.1657, -21.1) -> (132.4, -22.3343) projected
  line L12 (132.4, -22.3343) -> (132.4, -120.6657) projected
  line L13 (132.4, -120.6657) -> (131.1657, -121.9) projected
  line L14 (131.1657, -121.9) -> (94.6, -121.9) projected
  line L15 (131.9941, -19.1) -> (99.2816, -19.1) projected
  line L16 (134.4, -121.4941) -> (134.4, -21.5059) projected
  line L17 (94.6, -121.9) -> (94.6, -123.9) projected
  point P0 (0, 0)
  point P1 (132.4, -74.1)
  point P2 (134.4, -74.1)
  dimension "d92" = 55
  dimension "d93" = 35
extrude "Extrusion14" cut sketch "Sketch16" against normal blind 4 contours L0 L12 L11 L10 L1 L8 L7 L6 | L1 L10 L9 L8
sketch "Sketch17" plane through (0, 0, -6) normal (0, 0, -1) x (-1, 0, 0)
  point P0 (0, 0)
sketch "Sketch18" plane through (-124.1742, -121.9, 3) normal (0, 1, 0) x (1, 0, 0)
  line L0 (4.5742, 13) -> (4.5742, 16) projected
  line L1 (4.5742, 16) -> (-2.4258, 9)
  line L2 (-6.9915, 9) -> (29.5742, 9) projected
  line L3 (4.5742, 16) -> (14.4737, 16) construction
  line L4 (4.5742, 13) -> (29.5742, 13) projected
  line L5 (4.5742, 9) -> (29.5742, 9) projected
  line L6 (29.5742, 9) -> (29.5742, 13) projected
  point P0 (124.1742, 3)
  dimension "d94" = 135
extrude "Extrusion15" add sketch "Sketch18" against normal up to surface (2 mm away)
sketch "Sketch19" plane through (-123.1452, -21.1, 3) normal (0, -1, 0) x (1, 0, 0)
  point P0 (123.1452, -3)
sketch "Sketch22" plane through (-131.9941, -19.1, 3) normal (0, 1, 0) x (1, 0, 0)
  spline S0 degree 8 number of poles 65
  spline S1 degree 8 number of poles 65
  spline S2 degree 6 poles (40.9941, 14.0948) (40.6733, 14.0874) (40.3534, 14.0408) (40.0407, 13.955) (39.7411, 13.8313) (39.4603, 13.6721) (38.9467, 13.2906) (38.7138, 13.0683) (38.5096, 12.818) (38.3383, 12.5444) (38.2031, 12.2526) (38.0129, 11.658) (37.9547, 11.3559) (37.9333, 11.0481) (37.9493, 10.7401) (38.0022, 10.4375) (38.1787, 9.8546) (38.3021, 9.5741) (38.4593, 9.31) (38.6474, 9.0671) (38.863, 8.8499) (39.3323, 8.4805) (39.5845, 8.3262) (39.8542, 8.2028) (40.1365, 8.1125) (40.4265, 8.057) (41.0045, 8.0166) (41.2925, 8.0302) (41.5777, 8.0778) (41.8551, 8.1588) (42.1199, 8.2717) (42.6099, 8.553) (42.8358, 8.7202) (43.0413, 8.9131) (43.2227, 9.1287) (43.377, 9.3632) (43.5572, 9.7225) (43.6068, 9.8358) (43.6504, 9.9515) (43.6879, 10.0694) (43.7192, 10.1889) (43.7441, 10.3097) knots 0 0 0 0 0 0 0 0.133235 0.133235 0.133235 0.133235 0.133235 0.266244 0.266244 0.266244 0.266244 0.266244 0.393711 0.393711 0.393711 0.393711 0.393711 0.520997 0.520997 0.520997 0.520997 0.520997 0.644189 0.644189 0.644189 0.644189 0.644189 0.764658 0.764658 0.764658 0.764658 0.764658 0.882458 0.882458 0.882458 0.882458 0.882458 0.934692 0.934692 0.934692 0.934692 0.934692 0.934692 0.934692
  circle A0 centre (40.9941, 10.9699) radius 7.5
  point P0 (131.9941, 3)
  dimension "d106" = 15
extrude "Extrusion18" cut sketch "Sketch22" against normal up to surface (2 mm away)
sketch "Sketch23" plane through (-131.9941, -19.1, 3) normal (0, 1, 0) x (1, 0, 0)
  line L0 (49.2757, 9) -> (48.3941, 14) projected
  line L1 (48.3941, 14) -> (55.7757, 14)
  line L2 (55.7757, 14) -> (60.7757, 9)
  line L3 (49.2757, 9) -> (62.2616, 9) projected
  point P0 (131.9941, 3)
  dimension "d109" = 45
  dimension "d110" = 6.5
extrude "Extrusion19" add sketch "Sketch23" against normal up to surface (2 mm away)
sketch "Sketch24" plane through (-131.9941, -19.1, 3) normal (0, 1, 0) x (1, 0, 0)
  arc A0 (34.1335, 14) -> (47.8548, 14) centre (40.9941, 10.9699) ccw projected
  line L0 (34.1335, 14) -> (33.5941, 14) projected
  line L1 (33.5941, 14) -> (32.7125, 9) projected
  line L2 (32.7125, 9) -> (32.7125, 5) projected
  line L3 (32.7125, 5) -> (0, 5) projected
  line L4 (0, 5) -> (0, 0) projected
  line L5 (99.9882, 0) -> (0, 0) projected
  line L6 (99.9882, 9) -> (99.9882, 0) projected
  line L7 (91.2737, 9) -> (99.9882, 9) projected
  arc A1 (91.2737, 9) -> (90.2737, 8) centre (91.2737, 8) ccw projected
  line L8 (90.2737, 8) -> (90.2737, 4.5558) projected
  arc A2 (89.2737, 3.5558) -> (90.2737, 4.5558) centre (89.2737, 4.5558) ccw projected
  line L9 (89.2737, 3.5558) -> (81.5937, 3.5558) projected
  arc A3 (80.5937, 4.5558) -> (81.5937, 3.5558) centre (81.5937, 4.5558) ccw projected
  line L10 (80.5937, 4.5558) -> (80.5937, 8) projected
  arc A4 (80.5937, 8) -> (79.5937, 9) centre (79.5937, 8) ccw projected
  line L11 (77.5016, 9) -> (79.5937, 9) projected
  arc A5 (77.5016, 9) -> (76.5016, 8) centre (77.5016, 8) ccw projected
  line L12 (76.5016, 8) -> (76.5016, 3) projected
  arc A6 (75.5016, 2) -> (76.5016, 3) centre (75.5016, 3) ccw projected
  line L13 (75.5016, 2) -> (64.2616, 2) projected
  arc A7 (63.2616, 3) -> (64.2616, 2) centre (64.2616, 3) ccw projected
  line L14 (63.2616, 3) -> (63.2616, 8) projected
  arc A8 (63.2616, 8) -> (62.2616, 9) centre (62.2616, 8) ccw projected
  line L15 (60.7757, 9) -> (62.2616, 9) projected
  line L16 (60.7757, 9) -> (55.7757, 14) projected
  line L17 (55.7757, 14) -> (47.8548, 14) projected
  line L18 (32.7125, 5) -> (36.4543, 5)
  point P0 (131.9941, 3)
extrude "Extrusion20" cut sketch "Sketch24" against normal up to surface (2 mm away) contours A0 L18 L2 L1 L0
equation "\"d27\" = d26"
equation "\"d28\" = d27"
equation "\"d19\" = d20"
equation "\"d58\" = d57"
equation "\"d61\" = d57"
equation "\"d62\" = d57"
properties part number "Buttom_part"
